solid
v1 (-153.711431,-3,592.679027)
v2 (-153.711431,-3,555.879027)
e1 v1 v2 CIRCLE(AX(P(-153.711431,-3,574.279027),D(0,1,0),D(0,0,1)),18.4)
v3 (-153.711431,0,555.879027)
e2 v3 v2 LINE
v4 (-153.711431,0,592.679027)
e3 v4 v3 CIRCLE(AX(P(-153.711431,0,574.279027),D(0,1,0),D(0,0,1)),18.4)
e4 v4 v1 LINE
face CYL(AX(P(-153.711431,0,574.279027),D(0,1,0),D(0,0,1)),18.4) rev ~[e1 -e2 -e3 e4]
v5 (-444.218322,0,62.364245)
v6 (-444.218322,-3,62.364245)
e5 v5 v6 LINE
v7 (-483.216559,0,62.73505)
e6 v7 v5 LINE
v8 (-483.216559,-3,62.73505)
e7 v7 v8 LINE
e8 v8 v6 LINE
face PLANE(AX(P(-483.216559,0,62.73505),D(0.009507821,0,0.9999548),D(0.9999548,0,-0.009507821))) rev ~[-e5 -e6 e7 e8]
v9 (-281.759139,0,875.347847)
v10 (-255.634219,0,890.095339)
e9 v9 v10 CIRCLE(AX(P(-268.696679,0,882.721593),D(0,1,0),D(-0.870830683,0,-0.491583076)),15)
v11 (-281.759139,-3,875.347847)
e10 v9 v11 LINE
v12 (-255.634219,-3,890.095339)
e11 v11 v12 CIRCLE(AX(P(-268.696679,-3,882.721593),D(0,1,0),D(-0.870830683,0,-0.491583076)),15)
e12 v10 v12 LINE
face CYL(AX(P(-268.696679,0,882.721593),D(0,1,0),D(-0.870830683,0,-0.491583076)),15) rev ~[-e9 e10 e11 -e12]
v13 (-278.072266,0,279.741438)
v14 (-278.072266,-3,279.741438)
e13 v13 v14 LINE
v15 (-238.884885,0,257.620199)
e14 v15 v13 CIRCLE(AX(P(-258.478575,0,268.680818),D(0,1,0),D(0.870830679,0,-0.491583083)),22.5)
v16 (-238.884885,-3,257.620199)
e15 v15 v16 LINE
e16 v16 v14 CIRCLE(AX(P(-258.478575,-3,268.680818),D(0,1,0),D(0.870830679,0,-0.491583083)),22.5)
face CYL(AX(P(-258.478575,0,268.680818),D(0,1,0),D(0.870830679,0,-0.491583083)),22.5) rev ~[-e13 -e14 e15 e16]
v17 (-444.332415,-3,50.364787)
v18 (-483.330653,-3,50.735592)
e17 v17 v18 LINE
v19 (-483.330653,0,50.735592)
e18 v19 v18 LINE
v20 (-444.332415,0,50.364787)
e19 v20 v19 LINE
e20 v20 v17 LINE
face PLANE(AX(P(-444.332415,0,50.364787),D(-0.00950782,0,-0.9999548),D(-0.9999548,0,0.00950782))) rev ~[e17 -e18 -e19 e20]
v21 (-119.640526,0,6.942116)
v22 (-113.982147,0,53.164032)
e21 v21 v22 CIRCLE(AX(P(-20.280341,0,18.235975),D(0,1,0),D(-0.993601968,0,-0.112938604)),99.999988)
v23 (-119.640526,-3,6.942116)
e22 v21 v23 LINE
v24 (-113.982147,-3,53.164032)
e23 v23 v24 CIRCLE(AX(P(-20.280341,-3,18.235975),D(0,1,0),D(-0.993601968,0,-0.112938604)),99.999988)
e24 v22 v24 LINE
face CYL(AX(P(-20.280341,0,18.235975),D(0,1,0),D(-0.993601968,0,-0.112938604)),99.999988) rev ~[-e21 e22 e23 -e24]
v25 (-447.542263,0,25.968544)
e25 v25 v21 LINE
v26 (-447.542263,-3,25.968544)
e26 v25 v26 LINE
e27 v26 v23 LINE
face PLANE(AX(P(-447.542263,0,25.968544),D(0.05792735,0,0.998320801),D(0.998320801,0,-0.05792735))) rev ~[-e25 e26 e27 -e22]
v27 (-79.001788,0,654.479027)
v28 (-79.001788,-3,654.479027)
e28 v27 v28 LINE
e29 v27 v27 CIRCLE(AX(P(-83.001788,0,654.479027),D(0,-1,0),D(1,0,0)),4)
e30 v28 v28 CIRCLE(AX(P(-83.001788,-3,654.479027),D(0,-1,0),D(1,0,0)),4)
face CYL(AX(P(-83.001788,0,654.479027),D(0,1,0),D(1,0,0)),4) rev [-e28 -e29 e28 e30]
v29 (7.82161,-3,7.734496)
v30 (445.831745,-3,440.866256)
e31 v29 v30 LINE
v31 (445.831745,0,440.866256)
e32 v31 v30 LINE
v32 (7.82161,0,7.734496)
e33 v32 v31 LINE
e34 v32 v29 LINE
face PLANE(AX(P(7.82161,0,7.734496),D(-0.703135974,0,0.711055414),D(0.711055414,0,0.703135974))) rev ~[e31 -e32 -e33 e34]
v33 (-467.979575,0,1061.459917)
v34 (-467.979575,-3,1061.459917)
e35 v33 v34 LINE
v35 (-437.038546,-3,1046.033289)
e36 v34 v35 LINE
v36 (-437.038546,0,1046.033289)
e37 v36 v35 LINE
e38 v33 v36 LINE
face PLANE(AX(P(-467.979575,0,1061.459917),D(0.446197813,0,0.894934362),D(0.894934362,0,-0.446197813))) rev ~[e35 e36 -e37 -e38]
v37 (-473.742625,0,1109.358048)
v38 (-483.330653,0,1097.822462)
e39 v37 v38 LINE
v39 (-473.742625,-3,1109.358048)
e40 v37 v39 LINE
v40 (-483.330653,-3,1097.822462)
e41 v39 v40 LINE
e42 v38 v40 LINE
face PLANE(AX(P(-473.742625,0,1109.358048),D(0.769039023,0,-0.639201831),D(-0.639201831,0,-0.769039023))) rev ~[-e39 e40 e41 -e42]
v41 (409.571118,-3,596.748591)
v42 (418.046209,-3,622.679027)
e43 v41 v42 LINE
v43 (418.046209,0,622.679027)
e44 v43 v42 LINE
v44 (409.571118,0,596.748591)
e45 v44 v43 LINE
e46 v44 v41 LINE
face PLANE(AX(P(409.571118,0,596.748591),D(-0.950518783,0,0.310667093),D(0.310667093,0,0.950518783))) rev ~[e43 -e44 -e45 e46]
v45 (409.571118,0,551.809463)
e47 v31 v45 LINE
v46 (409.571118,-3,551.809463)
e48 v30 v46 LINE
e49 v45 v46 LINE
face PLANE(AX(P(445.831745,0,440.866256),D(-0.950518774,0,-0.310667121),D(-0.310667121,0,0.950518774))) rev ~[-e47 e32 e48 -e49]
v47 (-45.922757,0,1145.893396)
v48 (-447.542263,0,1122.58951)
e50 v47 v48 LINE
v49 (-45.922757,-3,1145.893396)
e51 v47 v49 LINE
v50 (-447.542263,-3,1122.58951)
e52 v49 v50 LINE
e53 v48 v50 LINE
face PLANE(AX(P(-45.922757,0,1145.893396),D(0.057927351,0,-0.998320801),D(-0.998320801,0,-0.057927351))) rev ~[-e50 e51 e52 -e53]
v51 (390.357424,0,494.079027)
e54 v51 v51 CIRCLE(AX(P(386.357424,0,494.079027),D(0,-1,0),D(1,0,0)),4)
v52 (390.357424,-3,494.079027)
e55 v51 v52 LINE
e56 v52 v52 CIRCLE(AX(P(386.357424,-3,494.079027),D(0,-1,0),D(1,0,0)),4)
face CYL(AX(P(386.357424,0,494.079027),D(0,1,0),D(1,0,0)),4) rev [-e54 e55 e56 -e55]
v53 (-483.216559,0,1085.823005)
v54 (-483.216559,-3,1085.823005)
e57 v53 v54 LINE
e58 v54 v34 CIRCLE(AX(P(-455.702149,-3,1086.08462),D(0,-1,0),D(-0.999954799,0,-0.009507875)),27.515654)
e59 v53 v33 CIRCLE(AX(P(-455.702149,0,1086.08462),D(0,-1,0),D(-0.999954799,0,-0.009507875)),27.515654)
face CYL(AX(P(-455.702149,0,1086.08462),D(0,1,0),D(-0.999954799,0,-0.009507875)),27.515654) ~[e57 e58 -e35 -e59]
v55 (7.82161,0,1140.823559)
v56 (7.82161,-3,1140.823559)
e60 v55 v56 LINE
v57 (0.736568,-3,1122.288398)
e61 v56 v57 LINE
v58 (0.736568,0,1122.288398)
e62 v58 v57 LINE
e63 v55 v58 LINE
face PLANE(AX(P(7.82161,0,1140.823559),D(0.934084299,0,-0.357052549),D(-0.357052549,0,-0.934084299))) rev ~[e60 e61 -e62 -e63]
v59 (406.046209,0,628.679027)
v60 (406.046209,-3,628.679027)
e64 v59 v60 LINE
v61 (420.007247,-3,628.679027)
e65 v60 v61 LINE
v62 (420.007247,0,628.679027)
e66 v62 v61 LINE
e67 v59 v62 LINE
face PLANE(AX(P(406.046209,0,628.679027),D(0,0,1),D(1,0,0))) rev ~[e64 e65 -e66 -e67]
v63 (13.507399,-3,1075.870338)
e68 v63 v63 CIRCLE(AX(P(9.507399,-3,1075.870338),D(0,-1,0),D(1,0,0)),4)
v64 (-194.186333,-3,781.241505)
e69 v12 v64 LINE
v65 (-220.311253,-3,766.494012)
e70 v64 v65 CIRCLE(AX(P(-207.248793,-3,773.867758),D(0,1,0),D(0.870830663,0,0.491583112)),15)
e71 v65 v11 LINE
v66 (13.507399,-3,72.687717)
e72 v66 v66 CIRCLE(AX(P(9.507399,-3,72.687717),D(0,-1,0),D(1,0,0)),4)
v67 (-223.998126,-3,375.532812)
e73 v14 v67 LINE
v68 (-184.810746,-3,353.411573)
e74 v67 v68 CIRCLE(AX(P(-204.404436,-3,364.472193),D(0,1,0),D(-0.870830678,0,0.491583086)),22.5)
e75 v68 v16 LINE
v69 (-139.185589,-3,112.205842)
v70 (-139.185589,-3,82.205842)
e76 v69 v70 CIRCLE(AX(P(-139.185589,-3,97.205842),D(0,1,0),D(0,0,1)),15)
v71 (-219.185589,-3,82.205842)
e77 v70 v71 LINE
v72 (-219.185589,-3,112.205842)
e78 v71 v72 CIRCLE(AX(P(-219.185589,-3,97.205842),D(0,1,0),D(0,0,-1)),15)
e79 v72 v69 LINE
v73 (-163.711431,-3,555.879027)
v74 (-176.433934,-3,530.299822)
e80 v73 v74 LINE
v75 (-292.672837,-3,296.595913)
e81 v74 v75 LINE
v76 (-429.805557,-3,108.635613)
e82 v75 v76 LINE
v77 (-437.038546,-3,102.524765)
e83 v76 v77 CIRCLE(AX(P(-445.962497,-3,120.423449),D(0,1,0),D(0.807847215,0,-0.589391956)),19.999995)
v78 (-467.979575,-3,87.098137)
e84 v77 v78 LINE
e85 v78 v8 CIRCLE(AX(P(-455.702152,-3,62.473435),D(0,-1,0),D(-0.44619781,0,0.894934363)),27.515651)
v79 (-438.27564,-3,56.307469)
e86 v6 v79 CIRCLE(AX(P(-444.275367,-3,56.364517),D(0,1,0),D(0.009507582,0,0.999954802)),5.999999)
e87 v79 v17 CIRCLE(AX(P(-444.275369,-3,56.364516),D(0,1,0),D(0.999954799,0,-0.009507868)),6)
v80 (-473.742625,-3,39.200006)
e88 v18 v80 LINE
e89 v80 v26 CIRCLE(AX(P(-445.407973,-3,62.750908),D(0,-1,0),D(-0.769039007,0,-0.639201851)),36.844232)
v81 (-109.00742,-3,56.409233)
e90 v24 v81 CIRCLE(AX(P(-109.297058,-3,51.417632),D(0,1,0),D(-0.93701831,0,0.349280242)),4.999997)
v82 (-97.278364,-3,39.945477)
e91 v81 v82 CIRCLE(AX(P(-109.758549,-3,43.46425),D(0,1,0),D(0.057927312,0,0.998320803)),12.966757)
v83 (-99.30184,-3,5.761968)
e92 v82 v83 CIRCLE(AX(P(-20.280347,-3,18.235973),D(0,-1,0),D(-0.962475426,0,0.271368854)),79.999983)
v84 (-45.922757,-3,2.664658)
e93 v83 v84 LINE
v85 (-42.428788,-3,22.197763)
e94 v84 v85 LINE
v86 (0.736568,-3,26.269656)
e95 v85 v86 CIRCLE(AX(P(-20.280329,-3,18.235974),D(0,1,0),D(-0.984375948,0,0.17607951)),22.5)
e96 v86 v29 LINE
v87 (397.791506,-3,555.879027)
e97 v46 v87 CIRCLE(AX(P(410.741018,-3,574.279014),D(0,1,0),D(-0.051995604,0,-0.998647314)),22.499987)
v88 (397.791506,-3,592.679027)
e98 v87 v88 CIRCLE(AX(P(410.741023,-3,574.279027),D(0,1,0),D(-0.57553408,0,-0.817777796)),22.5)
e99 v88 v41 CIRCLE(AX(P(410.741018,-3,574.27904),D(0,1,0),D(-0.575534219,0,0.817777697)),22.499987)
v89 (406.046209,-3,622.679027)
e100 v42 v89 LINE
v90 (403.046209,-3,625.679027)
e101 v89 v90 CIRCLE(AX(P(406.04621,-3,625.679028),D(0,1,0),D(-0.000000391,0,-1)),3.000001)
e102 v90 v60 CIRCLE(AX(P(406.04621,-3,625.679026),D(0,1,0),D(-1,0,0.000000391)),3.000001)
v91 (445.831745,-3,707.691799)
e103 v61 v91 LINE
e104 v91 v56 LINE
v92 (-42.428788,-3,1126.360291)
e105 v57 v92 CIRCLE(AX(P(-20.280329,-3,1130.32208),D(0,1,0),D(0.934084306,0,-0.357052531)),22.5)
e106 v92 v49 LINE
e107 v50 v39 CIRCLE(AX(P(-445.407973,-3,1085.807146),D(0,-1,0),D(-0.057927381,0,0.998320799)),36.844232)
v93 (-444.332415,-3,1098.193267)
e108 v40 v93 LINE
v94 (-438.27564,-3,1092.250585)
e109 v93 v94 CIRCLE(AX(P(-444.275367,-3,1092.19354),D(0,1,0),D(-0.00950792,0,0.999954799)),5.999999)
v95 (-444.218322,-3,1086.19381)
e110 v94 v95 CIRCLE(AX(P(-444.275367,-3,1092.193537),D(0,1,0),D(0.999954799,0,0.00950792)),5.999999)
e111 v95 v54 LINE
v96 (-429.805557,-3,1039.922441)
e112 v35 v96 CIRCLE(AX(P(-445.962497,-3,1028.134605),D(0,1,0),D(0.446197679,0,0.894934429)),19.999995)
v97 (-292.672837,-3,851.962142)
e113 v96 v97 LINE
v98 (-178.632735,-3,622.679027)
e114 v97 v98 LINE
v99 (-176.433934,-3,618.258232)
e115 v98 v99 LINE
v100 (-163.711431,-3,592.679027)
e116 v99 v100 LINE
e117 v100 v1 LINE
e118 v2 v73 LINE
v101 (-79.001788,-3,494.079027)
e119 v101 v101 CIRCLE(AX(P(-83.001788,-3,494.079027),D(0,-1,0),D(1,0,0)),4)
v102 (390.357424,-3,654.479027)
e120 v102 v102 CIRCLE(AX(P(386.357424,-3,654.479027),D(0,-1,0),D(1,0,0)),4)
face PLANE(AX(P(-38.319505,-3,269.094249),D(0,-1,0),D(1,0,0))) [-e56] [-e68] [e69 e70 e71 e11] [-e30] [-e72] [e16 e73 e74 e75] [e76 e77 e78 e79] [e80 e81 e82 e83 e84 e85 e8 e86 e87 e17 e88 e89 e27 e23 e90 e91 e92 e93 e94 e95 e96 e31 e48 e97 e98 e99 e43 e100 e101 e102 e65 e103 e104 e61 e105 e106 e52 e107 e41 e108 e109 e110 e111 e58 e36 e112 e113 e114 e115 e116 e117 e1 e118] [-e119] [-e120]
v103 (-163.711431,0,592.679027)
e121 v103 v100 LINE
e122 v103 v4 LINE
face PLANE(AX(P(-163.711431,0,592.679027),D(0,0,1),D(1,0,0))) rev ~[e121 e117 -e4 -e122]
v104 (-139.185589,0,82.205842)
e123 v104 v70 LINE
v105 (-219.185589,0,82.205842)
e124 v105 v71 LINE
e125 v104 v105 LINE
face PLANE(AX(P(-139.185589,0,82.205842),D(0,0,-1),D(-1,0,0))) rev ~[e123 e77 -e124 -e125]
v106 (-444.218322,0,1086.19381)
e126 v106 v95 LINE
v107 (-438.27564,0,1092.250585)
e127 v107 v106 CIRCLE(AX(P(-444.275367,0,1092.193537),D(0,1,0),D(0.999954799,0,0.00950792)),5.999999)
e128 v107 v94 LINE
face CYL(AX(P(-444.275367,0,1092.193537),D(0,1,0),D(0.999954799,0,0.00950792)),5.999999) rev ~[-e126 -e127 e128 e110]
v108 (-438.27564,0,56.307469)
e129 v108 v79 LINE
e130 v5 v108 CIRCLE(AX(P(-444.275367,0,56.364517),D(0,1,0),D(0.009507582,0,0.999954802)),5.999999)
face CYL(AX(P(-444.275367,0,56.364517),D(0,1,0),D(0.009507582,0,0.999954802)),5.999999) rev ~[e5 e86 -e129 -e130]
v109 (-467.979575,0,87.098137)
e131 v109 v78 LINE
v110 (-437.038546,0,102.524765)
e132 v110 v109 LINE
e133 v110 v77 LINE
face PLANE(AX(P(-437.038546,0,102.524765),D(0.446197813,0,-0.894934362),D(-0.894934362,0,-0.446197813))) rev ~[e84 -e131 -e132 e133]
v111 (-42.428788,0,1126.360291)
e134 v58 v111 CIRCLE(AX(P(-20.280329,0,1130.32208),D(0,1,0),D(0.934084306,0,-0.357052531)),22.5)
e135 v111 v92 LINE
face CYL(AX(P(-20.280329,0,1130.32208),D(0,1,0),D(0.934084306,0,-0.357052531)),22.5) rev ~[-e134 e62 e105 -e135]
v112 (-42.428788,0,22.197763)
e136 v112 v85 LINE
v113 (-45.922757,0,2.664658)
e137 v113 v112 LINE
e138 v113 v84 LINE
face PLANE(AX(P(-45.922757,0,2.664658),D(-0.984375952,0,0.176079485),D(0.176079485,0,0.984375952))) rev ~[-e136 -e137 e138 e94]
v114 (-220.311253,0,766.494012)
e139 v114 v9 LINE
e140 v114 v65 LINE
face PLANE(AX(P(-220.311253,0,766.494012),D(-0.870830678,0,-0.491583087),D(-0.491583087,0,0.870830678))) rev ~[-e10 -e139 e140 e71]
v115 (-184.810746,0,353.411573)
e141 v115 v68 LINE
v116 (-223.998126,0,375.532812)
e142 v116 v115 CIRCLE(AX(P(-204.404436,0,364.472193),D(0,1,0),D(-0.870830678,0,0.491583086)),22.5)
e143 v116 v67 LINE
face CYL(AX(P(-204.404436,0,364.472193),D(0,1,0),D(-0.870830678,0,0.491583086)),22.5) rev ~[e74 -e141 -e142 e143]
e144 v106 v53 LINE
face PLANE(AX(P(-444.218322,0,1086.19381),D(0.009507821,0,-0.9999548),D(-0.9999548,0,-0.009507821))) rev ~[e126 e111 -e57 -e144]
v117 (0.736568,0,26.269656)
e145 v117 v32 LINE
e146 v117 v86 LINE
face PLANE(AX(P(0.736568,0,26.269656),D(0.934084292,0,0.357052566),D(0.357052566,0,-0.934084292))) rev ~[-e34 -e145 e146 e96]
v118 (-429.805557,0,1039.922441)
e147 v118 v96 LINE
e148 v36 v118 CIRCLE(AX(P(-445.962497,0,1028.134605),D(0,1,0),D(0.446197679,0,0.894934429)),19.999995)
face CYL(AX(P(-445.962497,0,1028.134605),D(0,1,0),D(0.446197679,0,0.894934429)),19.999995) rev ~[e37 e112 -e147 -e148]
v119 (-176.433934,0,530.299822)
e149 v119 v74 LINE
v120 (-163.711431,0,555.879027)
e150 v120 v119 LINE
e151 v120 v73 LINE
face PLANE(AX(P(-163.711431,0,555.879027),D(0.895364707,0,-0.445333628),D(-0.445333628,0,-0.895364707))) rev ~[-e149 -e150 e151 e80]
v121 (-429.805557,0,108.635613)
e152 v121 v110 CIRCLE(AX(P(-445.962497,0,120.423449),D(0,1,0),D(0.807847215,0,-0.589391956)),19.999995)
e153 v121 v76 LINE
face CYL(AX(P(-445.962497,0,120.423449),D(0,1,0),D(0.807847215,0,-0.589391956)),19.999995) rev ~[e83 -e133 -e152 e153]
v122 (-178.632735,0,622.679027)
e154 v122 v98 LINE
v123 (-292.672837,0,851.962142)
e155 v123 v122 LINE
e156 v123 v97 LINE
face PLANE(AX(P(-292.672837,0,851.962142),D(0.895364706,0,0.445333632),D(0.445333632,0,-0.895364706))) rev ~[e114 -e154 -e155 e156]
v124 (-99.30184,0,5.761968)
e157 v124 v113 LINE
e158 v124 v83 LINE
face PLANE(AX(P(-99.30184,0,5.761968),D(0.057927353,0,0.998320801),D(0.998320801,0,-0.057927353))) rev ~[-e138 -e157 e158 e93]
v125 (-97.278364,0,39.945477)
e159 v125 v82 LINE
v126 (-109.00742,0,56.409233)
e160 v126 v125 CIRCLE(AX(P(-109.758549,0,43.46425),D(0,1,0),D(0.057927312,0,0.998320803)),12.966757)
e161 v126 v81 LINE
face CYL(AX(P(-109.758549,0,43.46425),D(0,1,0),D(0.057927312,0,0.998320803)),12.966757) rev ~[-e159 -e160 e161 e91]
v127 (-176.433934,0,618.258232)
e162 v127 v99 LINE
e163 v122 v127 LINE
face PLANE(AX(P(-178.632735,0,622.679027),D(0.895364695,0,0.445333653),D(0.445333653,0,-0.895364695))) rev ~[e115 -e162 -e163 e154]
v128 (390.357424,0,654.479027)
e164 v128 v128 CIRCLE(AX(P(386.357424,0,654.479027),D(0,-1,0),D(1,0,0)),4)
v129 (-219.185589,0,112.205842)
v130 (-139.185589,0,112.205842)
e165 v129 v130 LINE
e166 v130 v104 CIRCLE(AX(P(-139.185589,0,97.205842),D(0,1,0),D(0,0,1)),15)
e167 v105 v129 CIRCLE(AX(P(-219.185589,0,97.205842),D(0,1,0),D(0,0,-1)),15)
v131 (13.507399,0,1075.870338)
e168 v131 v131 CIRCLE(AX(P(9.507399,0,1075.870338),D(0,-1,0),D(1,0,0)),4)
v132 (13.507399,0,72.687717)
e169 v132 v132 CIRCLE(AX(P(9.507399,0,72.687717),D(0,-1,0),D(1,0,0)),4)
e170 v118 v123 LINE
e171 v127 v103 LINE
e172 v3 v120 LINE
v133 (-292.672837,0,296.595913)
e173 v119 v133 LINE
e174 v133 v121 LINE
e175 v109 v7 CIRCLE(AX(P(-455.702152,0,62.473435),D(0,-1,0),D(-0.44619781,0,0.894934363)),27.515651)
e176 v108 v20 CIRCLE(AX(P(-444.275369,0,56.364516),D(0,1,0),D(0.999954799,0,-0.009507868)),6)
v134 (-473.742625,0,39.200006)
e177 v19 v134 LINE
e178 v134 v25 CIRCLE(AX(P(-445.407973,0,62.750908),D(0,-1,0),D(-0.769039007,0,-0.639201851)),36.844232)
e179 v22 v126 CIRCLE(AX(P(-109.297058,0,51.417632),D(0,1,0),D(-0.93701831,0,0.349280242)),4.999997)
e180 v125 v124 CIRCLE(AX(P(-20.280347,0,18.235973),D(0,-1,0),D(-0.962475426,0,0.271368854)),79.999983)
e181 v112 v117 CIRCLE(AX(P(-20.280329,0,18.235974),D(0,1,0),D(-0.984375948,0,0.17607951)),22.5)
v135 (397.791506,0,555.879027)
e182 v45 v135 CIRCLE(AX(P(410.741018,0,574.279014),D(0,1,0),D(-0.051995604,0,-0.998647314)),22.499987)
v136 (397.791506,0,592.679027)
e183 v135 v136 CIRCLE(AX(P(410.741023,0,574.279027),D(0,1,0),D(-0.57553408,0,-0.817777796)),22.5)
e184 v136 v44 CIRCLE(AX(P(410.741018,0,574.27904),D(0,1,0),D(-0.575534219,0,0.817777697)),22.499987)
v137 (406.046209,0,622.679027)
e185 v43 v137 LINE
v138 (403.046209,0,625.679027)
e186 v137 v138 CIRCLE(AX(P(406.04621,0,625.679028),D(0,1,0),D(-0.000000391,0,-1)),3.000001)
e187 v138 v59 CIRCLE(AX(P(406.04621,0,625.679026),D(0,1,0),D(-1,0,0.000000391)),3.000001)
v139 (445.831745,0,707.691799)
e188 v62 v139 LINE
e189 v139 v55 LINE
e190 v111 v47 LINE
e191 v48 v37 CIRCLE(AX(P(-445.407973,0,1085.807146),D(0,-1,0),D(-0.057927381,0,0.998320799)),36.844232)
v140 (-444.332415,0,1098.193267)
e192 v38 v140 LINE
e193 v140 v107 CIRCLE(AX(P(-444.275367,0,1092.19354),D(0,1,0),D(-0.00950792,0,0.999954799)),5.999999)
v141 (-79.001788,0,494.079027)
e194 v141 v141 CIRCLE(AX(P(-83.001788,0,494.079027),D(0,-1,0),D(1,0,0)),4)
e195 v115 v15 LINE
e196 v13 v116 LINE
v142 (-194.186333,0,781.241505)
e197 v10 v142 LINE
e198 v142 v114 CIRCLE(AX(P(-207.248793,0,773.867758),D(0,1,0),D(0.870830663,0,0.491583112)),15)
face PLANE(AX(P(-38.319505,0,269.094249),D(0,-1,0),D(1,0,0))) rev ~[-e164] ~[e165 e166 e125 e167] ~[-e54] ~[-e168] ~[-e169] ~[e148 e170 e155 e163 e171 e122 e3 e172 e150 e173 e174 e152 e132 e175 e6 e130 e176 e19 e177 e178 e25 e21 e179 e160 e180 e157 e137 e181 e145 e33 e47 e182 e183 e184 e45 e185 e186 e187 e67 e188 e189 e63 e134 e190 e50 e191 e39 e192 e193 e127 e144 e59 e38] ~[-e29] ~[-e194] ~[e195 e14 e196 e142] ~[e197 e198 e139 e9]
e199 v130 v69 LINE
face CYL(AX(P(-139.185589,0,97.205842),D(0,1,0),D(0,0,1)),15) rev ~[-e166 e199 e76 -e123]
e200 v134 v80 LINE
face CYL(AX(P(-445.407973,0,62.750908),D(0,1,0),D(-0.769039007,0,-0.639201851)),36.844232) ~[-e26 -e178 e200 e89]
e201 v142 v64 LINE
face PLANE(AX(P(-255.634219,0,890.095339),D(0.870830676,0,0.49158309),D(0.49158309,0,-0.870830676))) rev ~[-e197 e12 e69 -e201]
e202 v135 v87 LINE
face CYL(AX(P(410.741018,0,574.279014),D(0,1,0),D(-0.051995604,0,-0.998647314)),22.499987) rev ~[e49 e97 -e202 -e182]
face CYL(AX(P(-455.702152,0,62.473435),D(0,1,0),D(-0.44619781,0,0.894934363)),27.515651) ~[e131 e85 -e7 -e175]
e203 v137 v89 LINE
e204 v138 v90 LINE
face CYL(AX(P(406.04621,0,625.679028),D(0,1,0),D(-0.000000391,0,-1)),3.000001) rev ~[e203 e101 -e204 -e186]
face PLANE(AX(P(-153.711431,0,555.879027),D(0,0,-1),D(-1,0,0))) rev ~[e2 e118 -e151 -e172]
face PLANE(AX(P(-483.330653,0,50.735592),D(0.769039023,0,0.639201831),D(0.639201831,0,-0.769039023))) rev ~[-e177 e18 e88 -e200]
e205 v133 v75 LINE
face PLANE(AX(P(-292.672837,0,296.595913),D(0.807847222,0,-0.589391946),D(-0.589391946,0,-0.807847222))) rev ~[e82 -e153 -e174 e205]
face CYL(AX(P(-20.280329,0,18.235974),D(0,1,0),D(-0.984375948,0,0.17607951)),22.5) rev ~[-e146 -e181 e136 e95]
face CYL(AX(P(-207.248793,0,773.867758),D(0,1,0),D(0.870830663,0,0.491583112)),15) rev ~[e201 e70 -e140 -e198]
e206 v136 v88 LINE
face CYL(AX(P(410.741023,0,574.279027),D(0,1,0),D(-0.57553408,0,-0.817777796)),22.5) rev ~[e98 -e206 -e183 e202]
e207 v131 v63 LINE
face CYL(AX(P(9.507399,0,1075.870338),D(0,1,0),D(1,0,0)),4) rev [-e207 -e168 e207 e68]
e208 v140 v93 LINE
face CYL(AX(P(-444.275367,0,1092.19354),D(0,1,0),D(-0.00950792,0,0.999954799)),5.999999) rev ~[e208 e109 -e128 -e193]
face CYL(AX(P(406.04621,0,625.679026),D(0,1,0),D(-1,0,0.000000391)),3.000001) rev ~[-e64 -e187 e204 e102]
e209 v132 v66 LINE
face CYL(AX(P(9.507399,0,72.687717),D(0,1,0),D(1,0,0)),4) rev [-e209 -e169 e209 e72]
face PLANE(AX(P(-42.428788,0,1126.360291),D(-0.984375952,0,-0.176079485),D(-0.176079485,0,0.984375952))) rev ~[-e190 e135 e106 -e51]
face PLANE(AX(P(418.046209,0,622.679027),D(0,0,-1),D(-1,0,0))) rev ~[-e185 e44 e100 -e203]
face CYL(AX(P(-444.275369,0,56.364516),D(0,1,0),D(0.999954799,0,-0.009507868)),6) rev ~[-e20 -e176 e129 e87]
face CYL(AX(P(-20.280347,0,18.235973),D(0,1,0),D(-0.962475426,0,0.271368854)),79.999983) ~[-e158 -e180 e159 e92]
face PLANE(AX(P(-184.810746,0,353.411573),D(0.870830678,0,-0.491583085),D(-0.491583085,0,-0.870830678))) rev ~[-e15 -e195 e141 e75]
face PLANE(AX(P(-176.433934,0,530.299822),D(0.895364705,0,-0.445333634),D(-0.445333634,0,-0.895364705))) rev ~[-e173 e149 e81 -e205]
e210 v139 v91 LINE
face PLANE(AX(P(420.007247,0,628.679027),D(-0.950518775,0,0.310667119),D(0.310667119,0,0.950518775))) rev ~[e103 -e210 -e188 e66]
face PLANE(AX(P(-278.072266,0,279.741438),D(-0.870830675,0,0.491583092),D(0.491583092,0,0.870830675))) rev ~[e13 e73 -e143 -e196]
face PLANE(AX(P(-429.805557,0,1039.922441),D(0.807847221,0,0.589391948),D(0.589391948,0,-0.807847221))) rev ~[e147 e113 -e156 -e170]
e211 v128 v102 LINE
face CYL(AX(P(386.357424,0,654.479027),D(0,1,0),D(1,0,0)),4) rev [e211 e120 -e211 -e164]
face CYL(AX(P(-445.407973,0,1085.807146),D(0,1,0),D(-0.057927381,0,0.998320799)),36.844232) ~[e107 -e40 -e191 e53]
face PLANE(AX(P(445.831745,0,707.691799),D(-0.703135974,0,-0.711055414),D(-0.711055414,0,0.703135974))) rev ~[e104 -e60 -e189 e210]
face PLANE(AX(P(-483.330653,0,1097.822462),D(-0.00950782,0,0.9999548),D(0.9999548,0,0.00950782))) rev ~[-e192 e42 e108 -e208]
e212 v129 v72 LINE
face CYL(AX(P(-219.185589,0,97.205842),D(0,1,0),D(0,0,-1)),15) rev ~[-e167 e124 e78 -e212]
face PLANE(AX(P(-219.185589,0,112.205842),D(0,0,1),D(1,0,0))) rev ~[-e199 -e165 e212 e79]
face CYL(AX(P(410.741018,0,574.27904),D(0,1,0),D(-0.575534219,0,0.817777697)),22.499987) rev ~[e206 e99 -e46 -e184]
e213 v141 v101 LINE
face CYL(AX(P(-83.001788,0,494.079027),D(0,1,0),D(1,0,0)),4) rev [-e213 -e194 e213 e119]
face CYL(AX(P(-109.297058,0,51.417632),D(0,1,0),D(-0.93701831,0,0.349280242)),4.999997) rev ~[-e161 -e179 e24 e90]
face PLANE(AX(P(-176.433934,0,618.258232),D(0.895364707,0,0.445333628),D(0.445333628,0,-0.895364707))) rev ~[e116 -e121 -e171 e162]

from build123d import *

# Parameters (mm, degrees)
F0_R     = 4
F1_DEPTH = 3


with BuildPart() as f1:
    # F0 (on Front) → F1 (new body)
    with BuildSketch(Plane.XZ):
        with BuildLine():
            ThreePointArc((-42.428788, 22.197763), (-22.393428, 40.636528), (0.736568, 26.269656))
            Line((0.736568, 26.269656), (7.82161, 7.734496))
            Line((7.82161, 7.734496), (445.831745, 440.866256))
            Line((445.831745, 440.866256), (409.571118, 551.809463))
            ThreePointArc((409.571118, 551.809463), (403.393924, 553.012383), (397.791506, 555.879027))
            Line((397.791506, 555.879027), (-153.711431, 555.879027))
            Line((-153.711431, 555.879027), (-163.711431, 555.879027))
            Line((-163.711431, 555.879027), (-176.433934, 530.299822))
            Line((-176.433934, 530.299822), (-292.672837, 296.595913))
            Line((-292.672837, 296.595913), (-429.805557, 108.635613))
            ThreePointArc((-429.805557, 108.635613), (-433.055197, 105.145969), (-437.038546, 102.524765))
            Line((-437.038546, 102.524765), (-467.979575, 87.098137))
            ThreePointArc((-467.979575, 87.098137), (-479.031049, 77.063624), (-483.216559, 62.73505))
            Line((-483.216559, 62.73505), (-444.218322, 62.364245))
            ThreePointArc((-444.218322, 62.364245), (-439.992581, 60.566627), (-438.27564, 56.307469))
            ThreePointArc((-438.27564, 56.307469), (-440.073258, 52.081729), (-444.332415, 50.364787))
            Line((-444.332415, 50.364787), (-483.330653, 50.735592))
            Line((-483.330653, 50.735592), (-473.742625, 39.200006))
            ThreePointArc((-473.742625, 39.200006), (-462.016917, 29.862605), (-447.542263, 25.968544))
            Line((-447.542263, 25.968544), (-119.640526, 6.942116))
            ThreePointArc((-119.640526, 6.942116), (-119.539343, 30.38703), (-113.982147, 53.164032))
            ThreePointArc((-113.982147, 53.164032), (-112.028876, 55.605369), (-109.00742, 56.409233))
            Line((-109.00742, 56.409233), (-91.138541, 55.372396))
            ThreePointArc((-91.138541, 55.372396), (-94.609764, 47.818656), (-97.278364, 39.945477))
            ThreePointArc((-97.278364, 39.945477), (-100.140537, 22.963258), (-99.30184, 5.761968))
            Line((-99.30184, 5.761968), (-45.922757, 2.664658))
            Line((-45.922757, 2.664658), (-42.428788, 22.197763))
        make_face()
        with BuildLine():
            ThreePointArc((-219.185589, 82.205842), (-234.185589, 97.205842), (-219.185589, 112.205842))
            Line((-219.185589, 112.205842), (-139.185589, 112.205842))
            ThreePointArc((-139.185589, 112.205842), (-124.185589, 97.205842), (-139.185589, 82.205842))
            Line((-139.185589, 82.205842), (-219.185589, 82.205842))
        make_face(mode=Mode.SUBTRACT)
        with BuildLine():
            ThreePointArc((-238.884885, 257.620199), (-269.539195, 249.087128), (-278.072266, 279.741438))
            Line((-278.072266, 279.741438), (-223.998126, 375.532812))
            ThreePointArc((-223.998126, 375.532812), (-193.343817, 384.065883), (-184.810746, 353.411573))
            Line((-184.810746, 353.411573), (-238.884885, 257.620199))
        make_face(mode=Mode.SUBTRACT)
        with Locations((-83.001788, 494.079027)):
            Circle(F0_R, mode=Mode.SUBTRACT)
        with Locations((9.507399, 72.687717)):
            Circle(F0_R, mode=Mode.SUBTRACT)
        with Locations((386.357424, 494.079027)):
            Circle(F0_R, mode=Mode.SUBTRACT)
        with BuildLine():
            ThreePointArc((-109.00742, 56.409233), (-99.197738, 50.987949), (-97.278364, 39.945477))
            ThreePointArc((-97.278364, 39.945477), (-94.609764, 47.818656), (-91.138541, 55.372396))
            Line((-91.138541, 55.372396), (-109.00742, 56.409233))
        make_face()
        with BuildLine():
            Line((-153.711431, 555.879027), (397.791506, 555.879027))
            ThreePointArc((397.791506, 555.879027), (388.241023, 574.279027), (397.791506, 592.679027))
            Line((397.791506, 592.679027), (-153.711431, 592.679027))
            ThreePointArc((-153.711431, 592.679027), (-135.311431, 574.279027), (-153.711431, 555.879027))
        make_face()
        with BuildLine():
            Line((-153.711431, 592.679027), (397.791506, 592.679027))
            ThreePointArc((397.791506, 592.679027), (403.393924, 595.545671), (409.571118, 596.748591))
            Line((409.571118, 596.748591), (418.046209, 622.679027))
            Line((418.046209, 622.679027), (406.046209, 622.679027))
            ThreePointArc((406.046209, 622.679027), (403.924889, 623.557707), (403.046209, 625.679027))
            ThreePointArc((403.046209, 625.679027), (403.924889, 627.800347), (406.046209, 628.679027))
            Line((406.046209, 628.679027), (420.007247, 628.679027))
            Line((420.007247, 628.679027), (445.831745, 707.691799))
            Line((445.831745, 707.691799), (7.82161, 1140.823559))
            Line((7.82161, 1140.823559), (0.736568, 1122.288398))
            ThreePointArc((0.736568, 1122.288398), (-22.393428, 1107.921526), (-42.428788, 1126.360291))
            Line((-42.428788, 1126.360291), (-45.922757, 1145.893396))
            Line((-45.922757, 1145.893396), (-447.542263, 1122.58951))
            ThreePointArc((-447.542263, 1122.58951), (-462.016917, 1118.695449), (-473.742625, 1109.358048))
            Line((-473.742625, 1109.358048), (-483.330653, 1097.822462))
            Line((-483.330653, 1097.822462), (-444.332415, 1098.193267))
            ThreePointArc((-444.332415, 1098.193267), (-440.073258, 1096.476326), (-438.27564, 1092.250585))
            ThreePointArc((-438.27564, 1092.250585), (-439.992581, 1087.991428), (-444.218322, 1086.19381))
            Line((-444.218322, 1086.19381), (-483.216559, 1085.823005))
            ThreePointArc((-483.216559, 1085.823005), (-479.031049, 1071.494431), (-467.979575, 1061.459917))
            Line((-467.979575, 1061.459917), (-437.038546, 1046.033289))
            ThreePointArc((-437.038546, 1046.033289), (-433.055197, 1043.412085), (-429.805557, 1039.922441))
            Line((-429.805557, 1039.922441), (-292.672837, 851.962142))
            Line((-292.672837, 851.962142), (-178.632735, 622.679027))
            Line((-178.632735, 622.679027), (-176.433934, 618.258232))
            Line((-176.433934, 618.258232), (-163.711431, 592.679027))
            Line((-163.711431, 592.679027), (-153.711431, 592.679027))
        make_face()
        with Locations((-83.001788, 654.479027)):
            Circle(F0_R, mode=Mode.SUBTRACT)
        with BuildLine():
            ThreePointArc((-281.759139, 875.347847), (-276.070425, 895.784053), (-255.634219, 890.095339))
            Line((-255.634219, 890.095339), (-194.186333, 781.241505))
            ThreePointArc((-194.186333, 781.241505), (-199.875047, 760.805298), (-220.311253, 766.494012))
            Line((-220.311253, 766.494012), (-281.759139, 875.347847))
        make_face(mode=Mode.SUBTRACT)
        with Locations((386.357424, 654.479027)):
            Circle(F0_R, mode=Mode.SUBTRACT)
        with Locations((9.507399, 1075.870338)):
            Circle(F0_R, mode=Mode.SUBTRACT)
    extrude(amount=F1_DEPTH)


solid = f1.part
